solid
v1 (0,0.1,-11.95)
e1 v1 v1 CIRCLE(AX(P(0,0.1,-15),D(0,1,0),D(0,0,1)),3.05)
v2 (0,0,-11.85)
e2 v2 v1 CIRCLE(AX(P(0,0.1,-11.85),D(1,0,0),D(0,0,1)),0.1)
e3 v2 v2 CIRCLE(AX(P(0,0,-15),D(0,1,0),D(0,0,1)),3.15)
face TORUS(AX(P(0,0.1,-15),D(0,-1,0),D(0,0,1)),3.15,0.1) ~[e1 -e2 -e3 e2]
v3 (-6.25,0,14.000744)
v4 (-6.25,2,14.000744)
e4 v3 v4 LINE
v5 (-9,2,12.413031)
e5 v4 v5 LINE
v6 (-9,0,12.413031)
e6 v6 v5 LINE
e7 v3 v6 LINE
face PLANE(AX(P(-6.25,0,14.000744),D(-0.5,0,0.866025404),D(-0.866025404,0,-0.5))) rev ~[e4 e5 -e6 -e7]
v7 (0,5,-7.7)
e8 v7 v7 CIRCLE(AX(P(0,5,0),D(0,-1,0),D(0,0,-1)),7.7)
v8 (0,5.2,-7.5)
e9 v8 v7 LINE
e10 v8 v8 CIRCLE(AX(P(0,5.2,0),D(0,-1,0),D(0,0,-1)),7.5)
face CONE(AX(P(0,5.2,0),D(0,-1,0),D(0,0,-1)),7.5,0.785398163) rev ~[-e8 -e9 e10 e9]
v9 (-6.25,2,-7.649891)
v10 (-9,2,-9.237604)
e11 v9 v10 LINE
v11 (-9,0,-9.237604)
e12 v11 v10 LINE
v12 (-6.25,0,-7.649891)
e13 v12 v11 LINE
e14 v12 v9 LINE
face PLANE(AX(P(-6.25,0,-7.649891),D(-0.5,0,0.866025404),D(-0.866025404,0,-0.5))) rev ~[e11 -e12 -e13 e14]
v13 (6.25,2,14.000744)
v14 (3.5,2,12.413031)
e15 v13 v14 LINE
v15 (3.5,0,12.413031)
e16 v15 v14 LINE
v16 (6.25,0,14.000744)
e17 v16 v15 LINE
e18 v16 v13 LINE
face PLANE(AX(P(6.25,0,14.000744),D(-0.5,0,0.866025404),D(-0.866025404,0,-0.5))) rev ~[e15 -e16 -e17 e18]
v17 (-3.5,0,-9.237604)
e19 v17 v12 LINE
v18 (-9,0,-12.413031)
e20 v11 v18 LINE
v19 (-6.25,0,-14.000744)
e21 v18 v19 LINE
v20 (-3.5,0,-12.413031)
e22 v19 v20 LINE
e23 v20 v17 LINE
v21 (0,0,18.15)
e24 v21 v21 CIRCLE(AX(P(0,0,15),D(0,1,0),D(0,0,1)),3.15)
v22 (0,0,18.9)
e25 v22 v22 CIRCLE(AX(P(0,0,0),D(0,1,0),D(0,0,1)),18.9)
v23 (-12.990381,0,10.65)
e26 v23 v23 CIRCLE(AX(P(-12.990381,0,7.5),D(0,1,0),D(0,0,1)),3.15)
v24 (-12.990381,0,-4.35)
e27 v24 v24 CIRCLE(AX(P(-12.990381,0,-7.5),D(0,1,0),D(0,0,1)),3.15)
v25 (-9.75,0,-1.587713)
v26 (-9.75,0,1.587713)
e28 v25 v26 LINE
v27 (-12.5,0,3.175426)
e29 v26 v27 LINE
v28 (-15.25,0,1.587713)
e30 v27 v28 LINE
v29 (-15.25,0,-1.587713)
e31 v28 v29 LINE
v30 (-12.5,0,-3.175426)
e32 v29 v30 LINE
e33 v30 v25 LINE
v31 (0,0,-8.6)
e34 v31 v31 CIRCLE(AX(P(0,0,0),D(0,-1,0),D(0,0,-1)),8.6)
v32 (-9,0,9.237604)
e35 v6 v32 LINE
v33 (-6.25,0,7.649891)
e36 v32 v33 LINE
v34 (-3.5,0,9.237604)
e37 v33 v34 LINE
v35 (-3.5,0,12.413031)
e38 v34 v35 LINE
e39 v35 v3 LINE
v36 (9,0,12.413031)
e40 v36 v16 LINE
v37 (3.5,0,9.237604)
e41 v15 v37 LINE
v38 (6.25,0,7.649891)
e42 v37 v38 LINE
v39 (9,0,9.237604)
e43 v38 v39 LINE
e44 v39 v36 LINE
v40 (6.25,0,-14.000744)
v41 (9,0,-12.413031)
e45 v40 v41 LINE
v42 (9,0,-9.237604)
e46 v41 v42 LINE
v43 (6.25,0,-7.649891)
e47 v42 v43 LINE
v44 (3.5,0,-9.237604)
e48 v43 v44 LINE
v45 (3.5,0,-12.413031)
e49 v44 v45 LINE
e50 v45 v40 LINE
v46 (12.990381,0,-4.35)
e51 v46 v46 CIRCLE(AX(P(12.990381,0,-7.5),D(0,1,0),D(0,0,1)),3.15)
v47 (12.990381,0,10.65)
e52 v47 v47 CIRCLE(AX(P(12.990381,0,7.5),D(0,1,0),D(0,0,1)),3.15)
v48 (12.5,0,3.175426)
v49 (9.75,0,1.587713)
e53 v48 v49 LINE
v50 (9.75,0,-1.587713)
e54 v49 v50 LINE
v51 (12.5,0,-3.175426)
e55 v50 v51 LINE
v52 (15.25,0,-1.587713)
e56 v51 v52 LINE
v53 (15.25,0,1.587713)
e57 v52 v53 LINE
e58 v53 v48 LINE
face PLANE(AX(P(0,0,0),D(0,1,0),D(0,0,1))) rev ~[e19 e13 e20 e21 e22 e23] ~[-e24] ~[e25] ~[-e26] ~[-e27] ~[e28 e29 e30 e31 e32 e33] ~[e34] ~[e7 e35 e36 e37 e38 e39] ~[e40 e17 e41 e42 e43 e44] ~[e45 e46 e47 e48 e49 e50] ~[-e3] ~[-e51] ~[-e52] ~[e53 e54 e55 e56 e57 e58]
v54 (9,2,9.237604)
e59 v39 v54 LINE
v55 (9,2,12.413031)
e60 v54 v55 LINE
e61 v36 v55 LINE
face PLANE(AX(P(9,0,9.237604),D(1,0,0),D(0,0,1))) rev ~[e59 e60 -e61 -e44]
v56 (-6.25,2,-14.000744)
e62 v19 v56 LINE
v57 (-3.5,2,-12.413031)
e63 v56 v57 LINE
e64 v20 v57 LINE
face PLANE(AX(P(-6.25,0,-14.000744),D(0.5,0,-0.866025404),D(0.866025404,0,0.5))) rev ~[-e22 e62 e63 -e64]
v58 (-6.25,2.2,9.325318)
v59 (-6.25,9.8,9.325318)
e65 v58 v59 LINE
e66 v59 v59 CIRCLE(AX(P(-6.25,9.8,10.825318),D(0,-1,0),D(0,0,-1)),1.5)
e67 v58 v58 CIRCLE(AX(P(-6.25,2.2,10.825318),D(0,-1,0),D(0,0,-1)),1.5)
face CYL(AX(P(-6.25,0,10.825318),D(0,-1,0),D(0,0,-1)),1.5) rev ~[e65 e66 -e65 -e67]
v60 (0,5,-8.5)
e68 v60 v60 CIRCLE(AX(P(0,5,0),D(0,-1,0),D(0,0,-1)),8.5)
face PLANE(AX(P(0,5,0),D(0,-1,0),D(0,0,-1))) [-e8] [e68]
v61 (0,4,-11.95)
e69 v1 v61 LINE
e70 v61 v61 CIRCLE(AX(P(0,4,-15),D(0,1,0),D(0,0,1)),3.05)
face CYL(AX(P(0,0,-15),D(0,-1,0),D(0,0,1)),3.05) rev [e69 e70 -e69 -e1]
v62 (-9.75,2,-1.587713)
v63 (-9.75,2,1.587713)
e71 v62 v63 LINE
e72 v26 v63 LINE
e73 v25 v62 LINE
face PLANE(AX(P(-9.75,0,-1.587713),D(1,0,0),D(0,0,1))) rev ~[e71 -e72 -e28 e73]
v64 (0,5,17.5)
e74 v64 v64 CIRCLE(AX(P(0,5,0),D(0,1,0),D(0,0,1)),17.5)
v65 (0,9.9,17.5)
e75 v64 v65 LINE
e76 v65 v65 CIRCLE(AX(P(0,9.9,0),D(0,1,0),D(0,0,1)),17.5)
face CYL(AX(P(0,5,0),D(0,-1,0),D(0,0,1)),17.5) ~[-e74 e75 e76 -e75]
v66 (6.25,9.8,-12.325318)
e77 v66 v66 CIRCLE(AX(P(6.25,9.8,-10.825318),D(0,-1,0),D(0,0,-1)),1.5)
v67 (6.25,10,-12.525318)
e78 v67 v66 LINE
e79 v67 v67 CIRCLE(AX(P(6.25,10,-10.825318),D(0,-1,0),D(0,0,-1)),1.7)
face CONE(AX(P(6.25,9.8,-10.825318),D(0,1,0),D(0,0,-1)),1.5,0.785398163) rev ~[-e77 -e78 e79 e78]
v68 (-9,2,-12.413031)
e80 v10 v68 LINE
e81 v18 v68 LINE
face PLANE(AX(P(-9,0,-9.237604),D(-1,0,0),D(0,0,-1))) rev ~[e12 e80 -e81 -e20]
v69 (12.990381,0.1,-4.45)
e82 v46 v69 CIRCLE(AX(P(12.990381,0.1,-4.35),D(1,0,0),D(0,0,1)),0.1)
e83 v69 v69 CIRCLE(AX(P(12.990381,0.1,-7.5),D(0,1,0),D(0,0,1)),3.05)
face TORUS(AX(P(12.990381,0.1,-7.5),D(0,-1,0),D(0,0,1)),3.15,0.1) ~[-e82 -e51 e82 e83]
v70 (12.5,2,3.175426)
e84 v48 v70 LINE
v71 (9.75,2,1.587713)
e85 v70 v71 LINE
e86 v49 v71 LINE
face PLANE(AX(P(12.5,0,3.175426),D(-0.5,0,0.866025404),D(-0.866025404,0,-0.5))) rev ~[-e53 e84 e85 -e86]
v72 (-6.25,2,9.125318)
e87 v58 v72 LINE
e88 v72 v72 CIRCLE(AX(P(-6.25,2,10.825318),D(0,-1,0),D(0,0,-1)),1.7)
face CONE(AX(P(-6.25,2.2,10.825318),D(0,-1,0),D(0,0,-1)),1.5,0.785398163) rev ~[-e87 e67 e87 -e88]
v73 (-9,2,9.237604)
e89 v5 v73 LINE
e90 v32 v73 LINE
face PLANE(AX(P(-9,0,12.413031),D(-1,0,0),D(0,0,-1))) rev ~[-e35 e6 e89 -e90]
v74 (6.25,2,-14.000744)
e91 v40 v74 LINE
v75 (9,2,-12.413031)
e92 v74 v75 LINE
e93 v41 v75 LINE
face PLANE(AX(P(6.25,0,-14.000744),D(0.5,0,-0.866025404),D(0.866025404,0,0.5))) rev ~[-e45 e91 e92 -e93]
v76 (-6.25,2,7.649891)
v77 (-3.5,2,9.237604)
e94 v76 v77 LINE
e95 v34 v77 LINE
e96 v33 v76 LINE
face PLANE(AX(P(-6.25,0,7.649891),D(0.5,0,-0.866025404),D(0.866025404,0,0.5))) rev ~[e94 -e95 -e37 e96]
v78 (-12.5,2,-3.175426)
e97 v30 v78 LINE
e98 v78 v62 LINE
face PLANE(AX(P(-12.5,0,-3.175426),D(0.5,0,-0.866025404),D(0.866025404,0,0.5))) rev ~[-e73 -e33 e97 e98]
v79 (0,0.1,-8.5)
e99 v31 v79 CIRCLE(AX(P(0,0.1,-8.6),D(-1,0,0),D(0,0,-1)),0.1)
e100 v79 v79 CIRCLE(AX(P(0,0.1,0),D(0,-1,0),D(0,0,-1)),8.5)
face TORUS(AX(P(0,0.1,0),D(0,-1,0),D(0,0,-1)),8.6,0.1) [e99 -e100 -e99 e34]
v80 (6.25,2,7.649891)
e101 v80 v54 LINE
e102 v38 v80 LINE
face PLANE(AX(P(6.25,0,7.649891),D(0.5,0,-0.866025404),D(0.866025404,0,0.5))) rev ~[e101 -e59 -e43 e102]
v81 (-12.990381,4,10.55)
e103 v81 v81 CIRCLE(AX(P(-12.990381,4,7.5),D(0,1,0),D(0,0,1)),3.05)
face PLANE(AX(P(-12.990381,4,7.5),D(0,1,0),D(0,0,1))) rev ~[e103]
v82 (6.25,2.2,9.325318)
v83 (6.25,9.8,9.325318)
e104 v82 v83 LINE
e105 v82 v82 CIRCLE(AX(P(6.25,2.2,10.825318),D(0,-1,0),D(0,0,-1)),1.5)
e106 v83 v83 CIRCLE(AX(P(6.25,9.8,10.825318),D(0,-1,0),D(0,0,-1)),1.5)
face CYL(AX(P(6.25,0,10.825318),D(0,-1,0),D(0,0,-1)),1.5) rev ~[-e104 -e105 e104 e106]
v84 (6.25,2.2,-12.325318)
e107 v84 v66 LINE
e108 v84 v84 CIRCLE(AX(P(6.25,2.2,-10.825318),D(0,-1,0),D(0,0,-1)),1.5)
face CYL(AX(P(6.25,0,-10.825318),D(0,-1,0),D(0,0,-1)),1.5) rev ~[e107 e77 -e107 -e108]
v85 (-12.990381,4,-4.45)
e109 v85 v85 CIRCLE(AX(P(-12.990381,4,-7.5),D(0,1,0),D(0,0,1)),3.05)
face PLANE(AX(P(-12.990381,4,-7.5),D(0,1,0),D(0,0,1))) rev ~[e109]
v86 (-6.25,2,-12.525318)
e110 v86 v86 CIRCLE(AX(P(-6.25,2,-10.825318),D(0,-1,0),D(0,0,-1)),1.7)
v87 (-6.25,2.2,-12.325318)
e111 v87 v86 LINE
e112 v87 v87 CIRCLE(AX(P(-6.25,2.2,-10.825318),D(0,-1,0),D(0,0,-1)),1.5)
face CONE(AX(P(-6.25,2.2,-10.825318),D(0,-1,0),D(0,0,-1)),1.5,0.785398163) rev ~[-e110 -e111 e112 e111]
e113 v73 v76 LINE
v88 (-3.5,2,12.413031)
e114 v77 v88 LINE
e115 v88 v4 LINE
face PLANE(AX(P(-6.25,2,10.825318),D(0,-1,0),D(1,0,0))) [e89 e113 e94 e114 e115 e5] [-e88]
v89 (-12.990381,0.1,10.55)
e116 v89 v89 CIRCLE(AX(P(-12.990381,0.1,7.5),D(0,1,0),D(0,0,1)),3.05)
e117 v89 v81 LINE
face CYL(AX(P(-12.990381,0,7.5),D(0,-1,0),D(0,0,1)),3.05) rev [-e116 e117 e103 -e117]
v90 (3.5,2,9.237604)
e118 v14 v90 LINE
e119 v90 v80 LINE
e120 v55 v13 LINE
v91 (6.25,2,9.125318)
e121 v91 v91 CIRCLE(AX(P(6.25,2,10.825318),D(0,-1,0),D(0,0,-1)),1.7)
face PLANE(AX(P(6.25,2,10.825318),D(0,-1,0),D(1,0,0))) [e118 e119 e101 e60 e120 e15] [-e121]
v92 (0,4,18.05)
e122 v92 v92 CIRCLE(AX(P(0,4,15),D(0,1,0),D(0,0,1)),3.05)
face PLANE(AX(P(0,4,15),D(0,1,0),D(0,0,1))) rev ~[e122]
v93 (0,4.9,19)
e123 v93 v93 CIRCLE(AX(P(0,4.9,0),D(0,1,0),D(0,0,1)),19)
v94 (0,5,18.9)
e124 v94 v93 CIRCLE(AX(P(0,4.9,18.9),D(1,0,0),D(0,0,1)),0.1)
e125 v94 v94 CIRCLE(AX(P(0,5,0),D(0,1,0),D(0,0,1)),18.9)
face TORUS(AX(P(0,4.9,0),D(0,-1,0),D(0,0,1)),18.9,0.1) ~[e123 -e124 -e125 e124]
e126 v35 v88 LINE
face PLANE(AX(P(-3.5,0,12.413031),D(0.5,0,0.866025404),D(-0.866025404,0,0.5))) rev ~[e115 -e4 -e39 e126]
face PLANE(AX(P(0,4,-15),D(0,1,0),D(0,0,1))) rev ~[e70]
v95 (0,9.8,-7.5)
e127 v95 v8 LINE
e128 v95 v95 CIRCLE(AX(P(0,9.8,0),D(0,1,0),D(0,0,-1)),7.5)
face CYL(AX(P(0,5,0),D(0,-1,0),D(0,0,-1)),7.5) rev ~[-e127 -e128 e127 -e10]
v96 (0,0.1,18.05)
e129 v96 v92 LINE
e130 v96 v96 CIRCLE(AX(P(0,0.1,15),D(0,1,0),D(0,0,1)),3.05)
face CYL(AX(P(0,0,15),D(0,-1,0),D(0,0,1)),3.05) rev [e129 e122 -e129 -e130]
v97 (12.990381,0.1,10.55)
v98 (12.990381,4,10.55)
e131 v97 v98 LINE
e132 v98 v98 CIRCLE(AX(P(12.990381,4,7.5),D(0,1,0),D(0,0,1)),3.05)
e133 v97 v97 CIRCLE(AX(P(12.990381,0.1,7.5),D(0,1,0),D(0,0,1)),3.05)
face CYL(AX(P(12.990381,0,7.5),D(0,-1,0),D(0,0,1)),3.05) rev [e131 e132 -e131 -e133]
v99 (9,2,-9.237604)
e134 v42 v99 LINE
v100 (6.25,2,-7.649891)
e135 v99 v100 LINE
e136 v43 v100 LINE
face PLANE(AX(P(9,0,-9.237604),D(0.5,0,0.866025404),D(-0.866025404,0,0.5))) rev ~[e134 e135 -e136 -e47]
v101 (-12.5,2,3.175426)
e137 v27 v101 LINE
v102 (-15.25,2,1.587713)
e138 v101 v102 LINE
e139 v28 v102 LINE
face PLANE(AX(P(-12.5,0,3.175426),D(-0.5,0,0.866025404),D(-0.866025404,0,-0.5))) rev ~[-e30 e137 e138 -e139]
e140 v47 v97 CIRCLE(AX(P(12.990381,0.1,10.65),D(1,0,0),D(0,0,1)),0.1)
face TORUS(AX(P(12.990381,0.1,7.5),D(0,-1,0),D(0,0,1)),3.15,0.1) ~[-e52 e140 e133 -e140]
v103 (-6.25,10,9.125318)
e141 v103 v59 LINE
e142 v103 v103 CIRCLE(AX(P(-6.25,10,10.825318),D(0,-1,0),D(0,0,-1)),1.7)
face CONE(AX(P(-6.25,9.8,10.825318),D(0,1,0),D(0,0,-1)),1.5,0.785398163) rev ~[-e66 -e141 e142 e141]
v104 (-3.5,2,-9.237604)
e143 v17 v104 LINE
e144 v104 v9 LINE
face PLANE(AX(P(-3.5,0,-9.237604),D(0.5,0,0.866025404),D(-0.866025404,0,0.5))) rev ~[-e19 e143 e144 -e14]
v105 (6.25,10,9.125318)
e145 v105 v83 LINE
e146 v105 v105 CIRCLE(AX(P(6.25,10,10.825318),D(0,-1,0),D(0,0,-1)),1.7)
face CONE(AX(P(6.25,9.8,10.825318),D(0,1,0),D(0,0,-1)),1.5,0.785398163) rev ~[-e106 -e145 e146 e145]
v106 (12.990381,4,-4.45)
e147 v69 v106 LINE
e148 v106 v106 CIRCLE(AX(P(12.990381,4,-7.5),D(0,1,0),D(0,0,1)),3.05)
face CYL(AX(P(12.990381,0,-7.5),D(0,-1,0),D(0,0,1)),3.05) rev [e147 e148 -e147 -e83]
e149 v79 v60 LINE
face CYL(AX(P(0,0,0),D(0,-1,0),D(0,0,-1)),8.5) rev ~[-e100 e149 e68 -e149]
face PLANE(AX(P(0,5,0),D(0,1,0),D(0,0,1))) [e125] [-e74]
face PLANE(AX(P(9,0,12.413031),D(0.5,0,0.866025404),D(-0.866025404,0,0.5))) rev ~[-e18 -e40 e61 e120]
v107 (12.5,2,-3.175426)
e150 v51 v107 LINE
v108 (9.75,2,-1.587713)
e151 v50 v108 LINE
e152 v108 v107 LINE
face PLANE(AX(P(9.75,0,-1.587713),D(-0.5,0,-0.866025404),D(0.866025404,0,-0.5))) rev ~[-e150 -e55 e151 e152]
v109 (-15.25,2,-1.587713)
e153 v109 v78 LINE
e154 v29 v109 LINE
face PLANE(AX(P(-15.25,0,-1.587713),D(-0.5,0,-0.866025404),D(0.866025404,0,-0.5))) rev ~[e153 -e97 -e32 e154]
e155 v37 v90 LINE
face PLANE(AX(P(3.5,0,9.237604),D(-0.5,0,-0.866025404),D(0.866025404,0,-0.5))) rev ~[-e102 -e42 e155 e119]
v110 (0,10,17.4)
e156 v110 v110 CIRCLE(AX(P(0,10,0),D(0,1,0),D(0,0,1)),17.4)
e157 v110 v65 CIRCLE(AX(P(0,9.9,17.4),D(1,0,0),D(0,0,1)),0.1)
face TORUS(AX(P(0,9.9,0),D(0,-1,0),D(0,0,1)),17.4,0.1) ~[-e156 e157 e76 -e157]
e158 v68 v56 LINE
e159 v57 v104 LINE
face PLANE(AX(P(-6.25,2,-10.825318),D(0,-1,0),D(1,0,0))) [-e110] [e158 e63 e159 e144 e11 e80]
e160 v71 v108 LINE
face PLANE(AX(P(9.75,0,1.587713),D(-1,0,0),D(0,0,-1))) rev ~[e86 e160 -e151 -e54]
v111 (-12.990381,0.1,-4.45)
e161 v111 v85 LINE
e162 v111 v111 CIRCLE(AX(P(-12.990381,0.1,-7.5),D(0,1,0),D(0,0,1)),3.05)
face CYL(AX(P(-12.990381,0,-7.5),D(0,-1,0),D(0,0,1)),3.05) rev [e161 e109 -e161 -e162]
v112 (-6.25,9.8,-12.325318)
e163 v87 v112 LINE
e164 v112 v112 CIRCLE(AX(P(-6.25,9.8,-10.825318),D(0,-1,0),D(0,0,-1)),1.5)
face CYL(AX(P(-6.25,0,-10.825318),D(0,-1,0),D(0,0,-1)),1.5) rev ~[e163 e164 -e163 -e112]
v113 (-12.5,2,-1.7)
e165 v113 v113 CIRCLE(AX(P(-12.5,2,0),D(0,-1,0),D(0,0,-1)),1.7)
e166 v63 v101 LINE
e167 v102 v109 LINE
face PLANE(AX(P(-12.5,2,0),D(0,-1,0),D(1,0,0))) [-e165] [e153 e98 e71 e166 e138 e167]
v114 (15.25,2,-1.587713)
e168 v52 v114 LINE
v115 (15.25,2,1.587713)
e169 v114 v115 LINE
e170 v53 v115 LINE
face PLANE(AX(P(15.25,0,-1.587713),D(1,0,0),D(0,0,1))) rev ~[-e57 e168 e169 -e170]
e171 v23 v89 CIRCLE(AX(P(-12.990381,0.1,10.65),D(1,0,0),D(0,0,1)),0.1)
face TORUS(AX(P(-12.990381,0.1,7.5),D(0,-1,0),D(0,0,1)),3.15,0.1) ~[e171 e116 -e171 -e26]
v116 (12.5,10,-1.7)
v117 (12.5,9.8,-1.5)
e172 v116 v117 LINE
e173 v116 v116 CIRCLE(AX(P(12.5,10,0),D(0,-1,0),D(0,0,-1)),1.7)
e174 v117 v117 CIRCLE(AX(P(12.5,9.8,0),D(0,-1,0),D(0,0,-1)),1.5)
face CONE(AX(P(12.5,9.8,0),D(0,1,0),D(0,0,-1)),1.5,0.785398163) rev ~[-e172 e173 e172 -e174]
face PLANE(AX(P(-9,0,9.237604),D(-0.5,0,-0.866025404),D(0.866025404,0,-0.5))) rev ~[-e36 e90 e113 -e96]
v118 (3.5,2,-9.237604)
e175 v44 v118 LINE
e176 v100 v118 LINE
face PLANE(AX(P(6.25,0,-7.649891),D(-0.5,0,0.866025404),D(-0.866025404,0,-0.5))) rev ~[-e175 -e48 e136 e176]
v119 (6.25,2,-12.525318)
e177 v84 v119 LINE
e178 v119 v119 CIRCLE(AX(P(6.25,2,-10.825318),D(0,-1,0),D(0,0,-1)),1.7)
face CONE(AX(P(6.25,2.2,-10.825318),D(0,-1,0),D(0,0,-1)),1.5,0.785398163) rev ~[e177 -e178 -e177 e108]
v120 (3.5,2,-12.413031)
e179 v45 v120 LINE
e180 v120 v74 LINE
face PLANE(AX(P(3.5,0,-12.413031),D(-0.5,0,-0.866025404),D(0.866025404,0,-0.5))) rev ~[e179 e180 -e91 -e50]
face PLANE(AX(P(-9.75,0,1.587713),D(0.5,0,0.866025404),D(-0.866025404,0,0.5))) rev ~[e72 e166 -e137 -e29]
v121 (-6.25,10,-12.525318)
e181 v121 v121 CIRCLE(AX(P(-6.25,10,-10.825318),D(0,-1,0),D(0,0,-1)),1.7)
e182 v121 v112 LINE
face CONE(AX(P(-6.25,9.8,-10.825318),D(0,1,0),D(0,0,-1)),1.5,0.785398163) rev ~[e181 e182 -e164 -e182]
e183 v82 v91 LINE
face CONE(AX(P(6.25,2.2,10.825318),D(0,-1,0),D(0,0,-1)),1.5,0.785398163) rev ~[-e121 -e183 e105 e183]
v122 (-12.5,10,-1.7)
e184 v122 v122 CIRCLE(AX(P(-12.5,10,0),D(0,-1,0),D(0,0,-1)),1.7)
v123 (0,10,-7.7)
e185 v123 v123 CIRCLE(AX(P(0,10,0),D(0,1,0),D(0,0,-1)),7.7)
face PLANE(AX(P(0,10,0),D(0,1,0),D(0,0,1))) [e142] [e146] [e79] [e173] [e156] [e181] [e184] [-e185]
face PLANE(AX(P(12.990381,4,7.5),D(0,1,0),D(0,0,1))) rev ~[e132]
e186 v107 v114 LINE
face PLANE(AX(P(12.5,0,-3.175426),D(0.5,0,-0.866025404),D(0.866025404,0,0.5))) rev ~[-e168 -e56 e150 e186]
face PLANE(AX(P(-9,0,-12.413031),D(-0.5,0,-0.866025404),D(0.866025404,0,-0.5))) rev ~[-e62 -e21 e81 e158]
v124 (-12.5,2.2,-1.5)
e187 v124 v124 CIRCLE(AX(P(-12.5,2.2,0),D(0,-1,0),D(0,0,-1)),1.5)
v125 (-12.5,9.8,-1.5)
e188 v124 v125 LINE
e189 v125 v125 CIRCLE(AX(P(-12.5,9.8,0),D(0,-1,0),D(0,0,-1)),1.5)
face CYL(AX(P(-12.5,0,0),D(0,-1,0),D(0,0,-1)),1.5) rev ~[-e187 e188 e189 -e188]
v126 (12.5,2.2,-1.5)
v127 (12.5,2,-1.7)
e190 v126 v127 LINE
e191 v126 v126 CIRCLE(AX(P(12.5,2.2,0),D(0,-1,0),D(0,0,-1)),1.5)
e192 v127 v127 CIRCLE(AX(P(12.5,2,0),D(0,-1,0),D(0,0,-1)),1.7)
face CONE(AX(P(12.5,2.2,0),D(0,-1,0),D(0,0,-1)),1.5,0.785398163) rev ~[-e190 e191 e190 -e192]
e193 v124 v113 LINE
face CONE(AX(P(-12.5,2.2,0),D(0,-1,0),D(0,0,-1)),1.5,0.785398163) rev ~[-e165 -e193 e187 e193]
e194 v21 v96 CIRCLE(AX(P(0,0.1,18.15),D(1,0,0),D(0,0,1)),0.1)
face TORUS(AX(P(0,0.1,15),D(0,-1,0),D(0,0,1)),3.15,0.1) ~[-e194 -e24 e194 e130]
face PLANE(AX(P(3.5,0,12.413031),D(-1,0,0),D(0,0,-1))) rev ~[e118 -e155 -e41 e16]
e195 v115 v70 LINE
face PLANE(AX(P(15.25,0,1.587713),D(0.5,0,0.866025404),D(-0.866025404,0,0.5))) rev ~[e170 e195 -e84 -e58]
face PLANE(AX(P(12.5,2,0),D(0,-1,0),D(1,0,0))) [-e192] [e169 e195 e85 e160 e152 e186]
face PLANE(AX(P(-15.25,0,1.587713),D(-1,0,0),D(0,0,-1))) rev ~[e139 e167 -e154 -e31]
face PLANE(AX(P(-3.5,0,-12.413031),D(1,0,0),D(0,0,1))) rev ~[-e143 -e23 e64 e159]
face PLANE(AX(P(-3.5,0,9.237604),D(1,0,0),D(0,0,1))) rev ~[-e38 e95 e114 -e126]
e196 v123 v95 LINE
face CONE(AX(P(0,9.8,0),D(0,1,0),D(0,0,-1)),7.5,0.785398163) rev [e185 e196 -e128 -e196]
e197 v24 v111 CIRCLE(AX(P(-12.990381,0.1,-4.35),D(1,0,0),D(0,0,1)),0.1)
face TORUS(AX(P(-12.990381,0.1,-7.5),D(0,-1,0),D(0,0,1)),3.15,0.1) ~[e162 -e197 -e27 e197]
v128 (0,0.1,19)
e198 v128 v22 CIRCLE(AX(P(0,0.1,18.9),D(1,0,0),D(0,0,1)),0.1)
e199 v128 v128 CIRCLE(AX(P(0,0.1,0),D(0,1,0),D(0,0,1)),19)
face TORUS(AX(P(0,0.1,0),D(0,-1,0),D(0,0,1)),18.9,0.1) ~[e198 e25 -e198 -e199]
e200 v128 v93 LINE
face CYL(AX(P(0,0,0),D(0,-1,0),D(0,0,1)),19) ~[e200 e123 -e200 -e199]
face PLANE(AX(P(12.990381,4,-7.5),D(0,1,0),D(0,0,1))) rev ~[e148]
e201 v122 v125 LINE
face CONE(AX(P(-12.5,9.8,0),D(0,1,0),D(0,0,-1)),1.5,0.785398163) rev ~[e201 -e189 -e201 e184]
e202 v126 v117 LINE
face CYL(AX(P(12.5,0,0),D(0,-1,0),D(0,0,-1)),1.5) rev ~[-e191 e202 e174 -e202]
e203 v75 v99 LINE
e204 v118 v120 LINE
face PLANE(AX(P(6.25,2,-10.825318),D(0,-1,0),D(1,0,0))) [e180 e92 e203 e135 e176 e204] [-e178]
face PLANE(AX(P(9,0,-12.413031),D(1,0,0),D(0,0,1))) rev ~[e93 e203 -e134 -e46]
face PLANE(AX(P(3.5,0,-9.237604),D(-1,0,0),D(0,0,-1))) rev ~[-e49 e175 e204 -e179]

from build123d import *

# Parameters (mm, degrees)
SKETCH_1_R          = 19
EXTRUDE_1_DEPTH     = 5
SKETCH_1_3_R        = 3.05
CUT_EXTRUDE_1_DEPTH = 4
SKETCH_5_R          = 17.5
EXTRUDE_3_DEPTH     = 5
SKETCH_7_R          = 8.5
CUT_EXTRUDE_2_DEPTH = 5
SKETCH_8_R          = 7.5
CUT_EXTRUDE_3_DEPTH = 0.5
CUT_EXTRUDE_4_REACH = 30.671
SKETCH_10_R         = 1.5
CUT_EXTRUDE_5_DEPTH = 2
CUT_EXTRUDE_6_REACH = 30.671
SKETCH_12_R         = 7.5
CHAMFER_1_SIZE      = 0.2
FILLET_1_R          = 0.1
FILLET_2_R          = 0.1


with BuildPart() as part:
    # 草图1 → 凸台-拉伸1 (new body)
    with BuildSketch(Plane(origin=(0, 0, 0), x_dir=(1, 0, 0), z_dir=(0, 1, 0))):
        Circle(SKETCH_1_R)
    extrude(amount=EXTRUDE_1_DEPTH)

    # 草图1<3> → 切除-拉伸1 (cut)
    with BuildSketch(Plane(origin=(0, 0, 0), x_dir=(1, 0, 0), z_dir=(0, 1, 0))):
        with Locations((0, 15)):
            Circle(SKETCH_1_3_R)
        with Locations((12.990381057, 7.5)):
            Circle(SKETCH_1_3_R)
        with Locations((12.990381057, -7.5)):
            Circle(SKETCH_1_3_R)
        with Locations((0, -15)):
            Circle(SKETCH_1_3_R)
        with Locations((-12.990381057, -7.5)):
            Circle(SKETCH_1_3_R)
        with Locations((-12.990381057, 7.5)):
            Circle(SKETCH_1_3_R)
    extrude(amount=CUT_EXTRUDE_1_DEPTH, mode=Mode.SUBTRACT)

    # 草图5 → 凸台-拉伸3 (add)
    with BuildSketch(Plane(origin=(0, 5, 0), x_dir=(1, 0, 0), z_dir=(0, 1, 0))):
        Circle(SKETCH_5_R)
    extrude(amount=EXTRUDE_3_DEPTH)

    # 草图7 → 切除-拉伸2 (cut)
    with BuildSketch(Plane.XZ):
        Circle(SKETCH_7_R)
    extrude(amount=-CUT_EXTRUDE_2_DEPTH, mode=Mode.SUBTRACT)

    # 草图8 → 切除-拉伸3 (cut)
    with BuildSketch(Plane.XZ.offset(-5)):
        Circle(SKETCH_8_R)
    extrude(amount=-CUT_EXTRUDE_3_DEPTH, mode=Mode.SUBTRACT)

    # 草图10 → 切除-拉伸4 (cut, up to next)
    with BuildSketch(Plane.XZ, mode=Mode.PRIVATE) as cut_extrude_4_sk1:
        with Locations((6.25, 10.825317547)):
            Circle(SKETCH_10_R)
    cut_extrude_4_tool1 = extrude(cut_extrude_4_sk1.sketch, amount=-CUT_EXTRUDE_4_REACH, mode=Mode.PRIVATE) & part.part
    # 草图10 → 切除-拉伸4 (cut, up to next)
    with BuildSketch(Plane.XZ, mode=Mode.PRIVATE) as cut_extrude_4_sk2:
        with Locations((12.5, 0)):
            Circle(SKETCH_10_R)
    cut_extrude_4_tool2 = extrude(cut_extrude_4_sk2.sketch, amount=-CUT_EXTRUDE_4_REACH, mode=Mode.PRIVATE) & part.part
    # 草图10 → 切除-拉伸4 (cut, up to next)
    with BuildSketch(Plane.XZ, mode=Mode.PRIVATE) as cut_extrude_4_sk3:
        with Locations((6.25, -10.825317547)):
            Circle(SKETCH_10_R)
    cut_extrude_4_tool3 = extrude(cut_extrude_4_sk3.sketch, amount=-CUT_EXTRUDE_4_REACH, mode=Mode.PRIVATE) & part.part
    # 草图10 → 切除-拉伸4 (cut, up to next)
    with BuildSketch(Plane.XZ, mode=Mode.PRIVATE) as cut_extrude_4_sk4:
        with Locations((-6.25, -10.825317547)):
            Circle(SKETCH_10_R)
    cut_extrude_4_tool4 = extrude(cut_extrude_4_sk4.sketch, amount=-CUT_EXTRUDE_4_REACH, mode=Mode.PRIVATE) & part.part
    # 草图10 → 切除-拉伸4 (cut, up to next)
    with BuildSketch(Plane.XZ, mode=Mode.PRIVATE) as cut_extrude_4_sk5:
        with Locations((-12.5, 0)):
            Circle(SKETCH_10_R)
    cut_extrude_4_tool5 = extrude(cut_extrude_4_sk5.sketch, amount=-CUT_EXTRUDE_4_REACH, mode=Mode.PRIVATE) & part.part
    # 草图10 → 切除-拉伸4 (cut, up to next)
    with BuildSketch(Plane.XZ, mode=Mode.PRIVATE) as cut_extrude_4_sk6:
        with Locations((-6.25, 10.825317547)):
            Circle(SKETCH_10_R)
    cut_extrude_4_tool6 = extrude(cut_extrude_4_sk6.sketch, amount=-CUT_EXTRUDE_4_REACH, mode=Mode.PRIVATE) & part.part
    add(cut_extrude_4_tool1.solids().sort_by_distance((6.25, 0, 10.825318))[0], mode=Mode.SUBTRACT)
    add(cut_extrude_4_tool2.solids().sort_by_distance((12.5, 0, 0))[0], mode=Mode.SUBTRACT)
    add(cut_extrude_4_tool3.solids().sort_by_distance((6.25, 0, -10.825318))[0], mode=Mode.SUBTRACT)
    add(cut_extrude_4_tool4.solids().sort_by_distance((-6.25, 0, -10.825318))[0], mode=Mode.SUBTRACT)
    add(cut_extrude_4_tool5.solids().sort_by_distance((-12.5, 0, 0))[0], mode=Mode.SUBTRACT)
    add(cut_extrude_4_tool6.solids().sort_by_distance((-6.25, 0, 10.825318))[0], mode=Mode.SUBTRACT)

    # 草图11 → 切除-拉伸5 (cut)
    with BuildSketch(Plane.XZ):
        Polygon((6.25, -14.000744028), (9, -12.413030788), (9, -9.237604307), (6.25, -7.649891067), (3.5, -9.237604307), (3.5, -12.413030788), align=None)
        Polygon((15.25, -1.58771324), (15.25, 1.58771324), (12.5, 3.175426481), (9.75, 1.58771324), (9.75, -1.58771324), (12.5, -3.175426481), align=None)
        Polygon((-9, -12.413030788), (-6.25, -14.000744028), (-3.5, -12.413030788), (-3.5, -9.237604307), (-6.25, -7.649891067), (-9, -9.237604307), align=None)
        Polygon((-15.25, 1.58771324), (-15.25, -1.58771324), (-12.5, -3.175426481), (-9.75, -1.58771324), (-9.75, 1.58771324), (-12.5, 3.175426481), align=None)
        Polygon((-6.25, 14.000744028), (-9, 12.413030788), (-9, 9.237604307), (-6.25, 7.649891067), (-3.5, 9.237604307), (-3.5, 12.413030788), align=None)
        Polygon((9, 12.413030788), (6.25, 14.000744028), (3.5, 12.413030788), (3.5, 9.237604307), (6.25, 7.649891067), (9, 9.237604307), align=None)
    extrude(amount=-CUT_EXTRUDE_5_DEPTH, mode=Mode.SUBTRACT)

    # 草图12 → 切除-拉伸6 (cut, up to next)
    with BuildSketch(Plane(origin=(0, 10, 0), x_dir=(1, 0, 0), z_dir=(0, 1, 0)), mode=Mode.PRIVATE) as cut_extrude_6_sk1:
        Circle(SKETCH_12_R)
    cut_extrude_6_tool1 = extrude(cut_extrude_6_sk1.sketch, amount=-CUT_EXTRUDE_6_REACH, mode=Mode.PRIVATE) & part.part
    add(cut_extrude_6_tool1.solids().sort_by_distance((0, 10, 0))[0], mode=Mode.SUBTRACT)

    # 倒角1
    chamfer_1_edges = [part.edges().sort_by_distance(p)[0] for p in [
        (-14, 2, 0),
        (-14, 10, 0),
        (-7.75, 2, 10.825317547),
        (-7.75, 10, 10.825317547),
        (4.75, 2, 10.825317547),
        (4.75, 10, 10.825317547),
        (11, 2, 0),
        (11, 10, 0),
        (4.75, 2, -10.825317547),
        (4.75, 10, -10.825317547),
        (-7.75, 2, -10.825317547),
        (-7.75, 10, -10.825317547),
        (-7.5, 10, 0),
        (-7.5, 5, 0),
    ]]
    chamfer(chamfer_1_edges, length=CHAMFER_1_SIZE)

    # 圆角1
    fillet_1_edges = [part.edges().sort_by_distance(p)[0] for p in [
        (-19, 0, 0),
        (-19, 5, 0),
        (-8.5, 0, 0),
        (-17.5, 10, 0),
    ]]
    fillet(fillet_1_edges, radius=FILLET_1_R)

    # 圆角2
    fillet_2_edges = [part.edges().sort_by_distance(p)[0] for p in [
        (9.940381057, 0, 7.5),
        (9.940381057, 0, -7.5),
        (-3.05, 0, -15),
        (-16.040381057, 0, -7.5),
        (-16.040381057, 0, 7.5),
        (-3.05, 0, 15),
    ]]
    fillet(fillet_2_edges, radius=FILLET_2_R)


solid = part.part
